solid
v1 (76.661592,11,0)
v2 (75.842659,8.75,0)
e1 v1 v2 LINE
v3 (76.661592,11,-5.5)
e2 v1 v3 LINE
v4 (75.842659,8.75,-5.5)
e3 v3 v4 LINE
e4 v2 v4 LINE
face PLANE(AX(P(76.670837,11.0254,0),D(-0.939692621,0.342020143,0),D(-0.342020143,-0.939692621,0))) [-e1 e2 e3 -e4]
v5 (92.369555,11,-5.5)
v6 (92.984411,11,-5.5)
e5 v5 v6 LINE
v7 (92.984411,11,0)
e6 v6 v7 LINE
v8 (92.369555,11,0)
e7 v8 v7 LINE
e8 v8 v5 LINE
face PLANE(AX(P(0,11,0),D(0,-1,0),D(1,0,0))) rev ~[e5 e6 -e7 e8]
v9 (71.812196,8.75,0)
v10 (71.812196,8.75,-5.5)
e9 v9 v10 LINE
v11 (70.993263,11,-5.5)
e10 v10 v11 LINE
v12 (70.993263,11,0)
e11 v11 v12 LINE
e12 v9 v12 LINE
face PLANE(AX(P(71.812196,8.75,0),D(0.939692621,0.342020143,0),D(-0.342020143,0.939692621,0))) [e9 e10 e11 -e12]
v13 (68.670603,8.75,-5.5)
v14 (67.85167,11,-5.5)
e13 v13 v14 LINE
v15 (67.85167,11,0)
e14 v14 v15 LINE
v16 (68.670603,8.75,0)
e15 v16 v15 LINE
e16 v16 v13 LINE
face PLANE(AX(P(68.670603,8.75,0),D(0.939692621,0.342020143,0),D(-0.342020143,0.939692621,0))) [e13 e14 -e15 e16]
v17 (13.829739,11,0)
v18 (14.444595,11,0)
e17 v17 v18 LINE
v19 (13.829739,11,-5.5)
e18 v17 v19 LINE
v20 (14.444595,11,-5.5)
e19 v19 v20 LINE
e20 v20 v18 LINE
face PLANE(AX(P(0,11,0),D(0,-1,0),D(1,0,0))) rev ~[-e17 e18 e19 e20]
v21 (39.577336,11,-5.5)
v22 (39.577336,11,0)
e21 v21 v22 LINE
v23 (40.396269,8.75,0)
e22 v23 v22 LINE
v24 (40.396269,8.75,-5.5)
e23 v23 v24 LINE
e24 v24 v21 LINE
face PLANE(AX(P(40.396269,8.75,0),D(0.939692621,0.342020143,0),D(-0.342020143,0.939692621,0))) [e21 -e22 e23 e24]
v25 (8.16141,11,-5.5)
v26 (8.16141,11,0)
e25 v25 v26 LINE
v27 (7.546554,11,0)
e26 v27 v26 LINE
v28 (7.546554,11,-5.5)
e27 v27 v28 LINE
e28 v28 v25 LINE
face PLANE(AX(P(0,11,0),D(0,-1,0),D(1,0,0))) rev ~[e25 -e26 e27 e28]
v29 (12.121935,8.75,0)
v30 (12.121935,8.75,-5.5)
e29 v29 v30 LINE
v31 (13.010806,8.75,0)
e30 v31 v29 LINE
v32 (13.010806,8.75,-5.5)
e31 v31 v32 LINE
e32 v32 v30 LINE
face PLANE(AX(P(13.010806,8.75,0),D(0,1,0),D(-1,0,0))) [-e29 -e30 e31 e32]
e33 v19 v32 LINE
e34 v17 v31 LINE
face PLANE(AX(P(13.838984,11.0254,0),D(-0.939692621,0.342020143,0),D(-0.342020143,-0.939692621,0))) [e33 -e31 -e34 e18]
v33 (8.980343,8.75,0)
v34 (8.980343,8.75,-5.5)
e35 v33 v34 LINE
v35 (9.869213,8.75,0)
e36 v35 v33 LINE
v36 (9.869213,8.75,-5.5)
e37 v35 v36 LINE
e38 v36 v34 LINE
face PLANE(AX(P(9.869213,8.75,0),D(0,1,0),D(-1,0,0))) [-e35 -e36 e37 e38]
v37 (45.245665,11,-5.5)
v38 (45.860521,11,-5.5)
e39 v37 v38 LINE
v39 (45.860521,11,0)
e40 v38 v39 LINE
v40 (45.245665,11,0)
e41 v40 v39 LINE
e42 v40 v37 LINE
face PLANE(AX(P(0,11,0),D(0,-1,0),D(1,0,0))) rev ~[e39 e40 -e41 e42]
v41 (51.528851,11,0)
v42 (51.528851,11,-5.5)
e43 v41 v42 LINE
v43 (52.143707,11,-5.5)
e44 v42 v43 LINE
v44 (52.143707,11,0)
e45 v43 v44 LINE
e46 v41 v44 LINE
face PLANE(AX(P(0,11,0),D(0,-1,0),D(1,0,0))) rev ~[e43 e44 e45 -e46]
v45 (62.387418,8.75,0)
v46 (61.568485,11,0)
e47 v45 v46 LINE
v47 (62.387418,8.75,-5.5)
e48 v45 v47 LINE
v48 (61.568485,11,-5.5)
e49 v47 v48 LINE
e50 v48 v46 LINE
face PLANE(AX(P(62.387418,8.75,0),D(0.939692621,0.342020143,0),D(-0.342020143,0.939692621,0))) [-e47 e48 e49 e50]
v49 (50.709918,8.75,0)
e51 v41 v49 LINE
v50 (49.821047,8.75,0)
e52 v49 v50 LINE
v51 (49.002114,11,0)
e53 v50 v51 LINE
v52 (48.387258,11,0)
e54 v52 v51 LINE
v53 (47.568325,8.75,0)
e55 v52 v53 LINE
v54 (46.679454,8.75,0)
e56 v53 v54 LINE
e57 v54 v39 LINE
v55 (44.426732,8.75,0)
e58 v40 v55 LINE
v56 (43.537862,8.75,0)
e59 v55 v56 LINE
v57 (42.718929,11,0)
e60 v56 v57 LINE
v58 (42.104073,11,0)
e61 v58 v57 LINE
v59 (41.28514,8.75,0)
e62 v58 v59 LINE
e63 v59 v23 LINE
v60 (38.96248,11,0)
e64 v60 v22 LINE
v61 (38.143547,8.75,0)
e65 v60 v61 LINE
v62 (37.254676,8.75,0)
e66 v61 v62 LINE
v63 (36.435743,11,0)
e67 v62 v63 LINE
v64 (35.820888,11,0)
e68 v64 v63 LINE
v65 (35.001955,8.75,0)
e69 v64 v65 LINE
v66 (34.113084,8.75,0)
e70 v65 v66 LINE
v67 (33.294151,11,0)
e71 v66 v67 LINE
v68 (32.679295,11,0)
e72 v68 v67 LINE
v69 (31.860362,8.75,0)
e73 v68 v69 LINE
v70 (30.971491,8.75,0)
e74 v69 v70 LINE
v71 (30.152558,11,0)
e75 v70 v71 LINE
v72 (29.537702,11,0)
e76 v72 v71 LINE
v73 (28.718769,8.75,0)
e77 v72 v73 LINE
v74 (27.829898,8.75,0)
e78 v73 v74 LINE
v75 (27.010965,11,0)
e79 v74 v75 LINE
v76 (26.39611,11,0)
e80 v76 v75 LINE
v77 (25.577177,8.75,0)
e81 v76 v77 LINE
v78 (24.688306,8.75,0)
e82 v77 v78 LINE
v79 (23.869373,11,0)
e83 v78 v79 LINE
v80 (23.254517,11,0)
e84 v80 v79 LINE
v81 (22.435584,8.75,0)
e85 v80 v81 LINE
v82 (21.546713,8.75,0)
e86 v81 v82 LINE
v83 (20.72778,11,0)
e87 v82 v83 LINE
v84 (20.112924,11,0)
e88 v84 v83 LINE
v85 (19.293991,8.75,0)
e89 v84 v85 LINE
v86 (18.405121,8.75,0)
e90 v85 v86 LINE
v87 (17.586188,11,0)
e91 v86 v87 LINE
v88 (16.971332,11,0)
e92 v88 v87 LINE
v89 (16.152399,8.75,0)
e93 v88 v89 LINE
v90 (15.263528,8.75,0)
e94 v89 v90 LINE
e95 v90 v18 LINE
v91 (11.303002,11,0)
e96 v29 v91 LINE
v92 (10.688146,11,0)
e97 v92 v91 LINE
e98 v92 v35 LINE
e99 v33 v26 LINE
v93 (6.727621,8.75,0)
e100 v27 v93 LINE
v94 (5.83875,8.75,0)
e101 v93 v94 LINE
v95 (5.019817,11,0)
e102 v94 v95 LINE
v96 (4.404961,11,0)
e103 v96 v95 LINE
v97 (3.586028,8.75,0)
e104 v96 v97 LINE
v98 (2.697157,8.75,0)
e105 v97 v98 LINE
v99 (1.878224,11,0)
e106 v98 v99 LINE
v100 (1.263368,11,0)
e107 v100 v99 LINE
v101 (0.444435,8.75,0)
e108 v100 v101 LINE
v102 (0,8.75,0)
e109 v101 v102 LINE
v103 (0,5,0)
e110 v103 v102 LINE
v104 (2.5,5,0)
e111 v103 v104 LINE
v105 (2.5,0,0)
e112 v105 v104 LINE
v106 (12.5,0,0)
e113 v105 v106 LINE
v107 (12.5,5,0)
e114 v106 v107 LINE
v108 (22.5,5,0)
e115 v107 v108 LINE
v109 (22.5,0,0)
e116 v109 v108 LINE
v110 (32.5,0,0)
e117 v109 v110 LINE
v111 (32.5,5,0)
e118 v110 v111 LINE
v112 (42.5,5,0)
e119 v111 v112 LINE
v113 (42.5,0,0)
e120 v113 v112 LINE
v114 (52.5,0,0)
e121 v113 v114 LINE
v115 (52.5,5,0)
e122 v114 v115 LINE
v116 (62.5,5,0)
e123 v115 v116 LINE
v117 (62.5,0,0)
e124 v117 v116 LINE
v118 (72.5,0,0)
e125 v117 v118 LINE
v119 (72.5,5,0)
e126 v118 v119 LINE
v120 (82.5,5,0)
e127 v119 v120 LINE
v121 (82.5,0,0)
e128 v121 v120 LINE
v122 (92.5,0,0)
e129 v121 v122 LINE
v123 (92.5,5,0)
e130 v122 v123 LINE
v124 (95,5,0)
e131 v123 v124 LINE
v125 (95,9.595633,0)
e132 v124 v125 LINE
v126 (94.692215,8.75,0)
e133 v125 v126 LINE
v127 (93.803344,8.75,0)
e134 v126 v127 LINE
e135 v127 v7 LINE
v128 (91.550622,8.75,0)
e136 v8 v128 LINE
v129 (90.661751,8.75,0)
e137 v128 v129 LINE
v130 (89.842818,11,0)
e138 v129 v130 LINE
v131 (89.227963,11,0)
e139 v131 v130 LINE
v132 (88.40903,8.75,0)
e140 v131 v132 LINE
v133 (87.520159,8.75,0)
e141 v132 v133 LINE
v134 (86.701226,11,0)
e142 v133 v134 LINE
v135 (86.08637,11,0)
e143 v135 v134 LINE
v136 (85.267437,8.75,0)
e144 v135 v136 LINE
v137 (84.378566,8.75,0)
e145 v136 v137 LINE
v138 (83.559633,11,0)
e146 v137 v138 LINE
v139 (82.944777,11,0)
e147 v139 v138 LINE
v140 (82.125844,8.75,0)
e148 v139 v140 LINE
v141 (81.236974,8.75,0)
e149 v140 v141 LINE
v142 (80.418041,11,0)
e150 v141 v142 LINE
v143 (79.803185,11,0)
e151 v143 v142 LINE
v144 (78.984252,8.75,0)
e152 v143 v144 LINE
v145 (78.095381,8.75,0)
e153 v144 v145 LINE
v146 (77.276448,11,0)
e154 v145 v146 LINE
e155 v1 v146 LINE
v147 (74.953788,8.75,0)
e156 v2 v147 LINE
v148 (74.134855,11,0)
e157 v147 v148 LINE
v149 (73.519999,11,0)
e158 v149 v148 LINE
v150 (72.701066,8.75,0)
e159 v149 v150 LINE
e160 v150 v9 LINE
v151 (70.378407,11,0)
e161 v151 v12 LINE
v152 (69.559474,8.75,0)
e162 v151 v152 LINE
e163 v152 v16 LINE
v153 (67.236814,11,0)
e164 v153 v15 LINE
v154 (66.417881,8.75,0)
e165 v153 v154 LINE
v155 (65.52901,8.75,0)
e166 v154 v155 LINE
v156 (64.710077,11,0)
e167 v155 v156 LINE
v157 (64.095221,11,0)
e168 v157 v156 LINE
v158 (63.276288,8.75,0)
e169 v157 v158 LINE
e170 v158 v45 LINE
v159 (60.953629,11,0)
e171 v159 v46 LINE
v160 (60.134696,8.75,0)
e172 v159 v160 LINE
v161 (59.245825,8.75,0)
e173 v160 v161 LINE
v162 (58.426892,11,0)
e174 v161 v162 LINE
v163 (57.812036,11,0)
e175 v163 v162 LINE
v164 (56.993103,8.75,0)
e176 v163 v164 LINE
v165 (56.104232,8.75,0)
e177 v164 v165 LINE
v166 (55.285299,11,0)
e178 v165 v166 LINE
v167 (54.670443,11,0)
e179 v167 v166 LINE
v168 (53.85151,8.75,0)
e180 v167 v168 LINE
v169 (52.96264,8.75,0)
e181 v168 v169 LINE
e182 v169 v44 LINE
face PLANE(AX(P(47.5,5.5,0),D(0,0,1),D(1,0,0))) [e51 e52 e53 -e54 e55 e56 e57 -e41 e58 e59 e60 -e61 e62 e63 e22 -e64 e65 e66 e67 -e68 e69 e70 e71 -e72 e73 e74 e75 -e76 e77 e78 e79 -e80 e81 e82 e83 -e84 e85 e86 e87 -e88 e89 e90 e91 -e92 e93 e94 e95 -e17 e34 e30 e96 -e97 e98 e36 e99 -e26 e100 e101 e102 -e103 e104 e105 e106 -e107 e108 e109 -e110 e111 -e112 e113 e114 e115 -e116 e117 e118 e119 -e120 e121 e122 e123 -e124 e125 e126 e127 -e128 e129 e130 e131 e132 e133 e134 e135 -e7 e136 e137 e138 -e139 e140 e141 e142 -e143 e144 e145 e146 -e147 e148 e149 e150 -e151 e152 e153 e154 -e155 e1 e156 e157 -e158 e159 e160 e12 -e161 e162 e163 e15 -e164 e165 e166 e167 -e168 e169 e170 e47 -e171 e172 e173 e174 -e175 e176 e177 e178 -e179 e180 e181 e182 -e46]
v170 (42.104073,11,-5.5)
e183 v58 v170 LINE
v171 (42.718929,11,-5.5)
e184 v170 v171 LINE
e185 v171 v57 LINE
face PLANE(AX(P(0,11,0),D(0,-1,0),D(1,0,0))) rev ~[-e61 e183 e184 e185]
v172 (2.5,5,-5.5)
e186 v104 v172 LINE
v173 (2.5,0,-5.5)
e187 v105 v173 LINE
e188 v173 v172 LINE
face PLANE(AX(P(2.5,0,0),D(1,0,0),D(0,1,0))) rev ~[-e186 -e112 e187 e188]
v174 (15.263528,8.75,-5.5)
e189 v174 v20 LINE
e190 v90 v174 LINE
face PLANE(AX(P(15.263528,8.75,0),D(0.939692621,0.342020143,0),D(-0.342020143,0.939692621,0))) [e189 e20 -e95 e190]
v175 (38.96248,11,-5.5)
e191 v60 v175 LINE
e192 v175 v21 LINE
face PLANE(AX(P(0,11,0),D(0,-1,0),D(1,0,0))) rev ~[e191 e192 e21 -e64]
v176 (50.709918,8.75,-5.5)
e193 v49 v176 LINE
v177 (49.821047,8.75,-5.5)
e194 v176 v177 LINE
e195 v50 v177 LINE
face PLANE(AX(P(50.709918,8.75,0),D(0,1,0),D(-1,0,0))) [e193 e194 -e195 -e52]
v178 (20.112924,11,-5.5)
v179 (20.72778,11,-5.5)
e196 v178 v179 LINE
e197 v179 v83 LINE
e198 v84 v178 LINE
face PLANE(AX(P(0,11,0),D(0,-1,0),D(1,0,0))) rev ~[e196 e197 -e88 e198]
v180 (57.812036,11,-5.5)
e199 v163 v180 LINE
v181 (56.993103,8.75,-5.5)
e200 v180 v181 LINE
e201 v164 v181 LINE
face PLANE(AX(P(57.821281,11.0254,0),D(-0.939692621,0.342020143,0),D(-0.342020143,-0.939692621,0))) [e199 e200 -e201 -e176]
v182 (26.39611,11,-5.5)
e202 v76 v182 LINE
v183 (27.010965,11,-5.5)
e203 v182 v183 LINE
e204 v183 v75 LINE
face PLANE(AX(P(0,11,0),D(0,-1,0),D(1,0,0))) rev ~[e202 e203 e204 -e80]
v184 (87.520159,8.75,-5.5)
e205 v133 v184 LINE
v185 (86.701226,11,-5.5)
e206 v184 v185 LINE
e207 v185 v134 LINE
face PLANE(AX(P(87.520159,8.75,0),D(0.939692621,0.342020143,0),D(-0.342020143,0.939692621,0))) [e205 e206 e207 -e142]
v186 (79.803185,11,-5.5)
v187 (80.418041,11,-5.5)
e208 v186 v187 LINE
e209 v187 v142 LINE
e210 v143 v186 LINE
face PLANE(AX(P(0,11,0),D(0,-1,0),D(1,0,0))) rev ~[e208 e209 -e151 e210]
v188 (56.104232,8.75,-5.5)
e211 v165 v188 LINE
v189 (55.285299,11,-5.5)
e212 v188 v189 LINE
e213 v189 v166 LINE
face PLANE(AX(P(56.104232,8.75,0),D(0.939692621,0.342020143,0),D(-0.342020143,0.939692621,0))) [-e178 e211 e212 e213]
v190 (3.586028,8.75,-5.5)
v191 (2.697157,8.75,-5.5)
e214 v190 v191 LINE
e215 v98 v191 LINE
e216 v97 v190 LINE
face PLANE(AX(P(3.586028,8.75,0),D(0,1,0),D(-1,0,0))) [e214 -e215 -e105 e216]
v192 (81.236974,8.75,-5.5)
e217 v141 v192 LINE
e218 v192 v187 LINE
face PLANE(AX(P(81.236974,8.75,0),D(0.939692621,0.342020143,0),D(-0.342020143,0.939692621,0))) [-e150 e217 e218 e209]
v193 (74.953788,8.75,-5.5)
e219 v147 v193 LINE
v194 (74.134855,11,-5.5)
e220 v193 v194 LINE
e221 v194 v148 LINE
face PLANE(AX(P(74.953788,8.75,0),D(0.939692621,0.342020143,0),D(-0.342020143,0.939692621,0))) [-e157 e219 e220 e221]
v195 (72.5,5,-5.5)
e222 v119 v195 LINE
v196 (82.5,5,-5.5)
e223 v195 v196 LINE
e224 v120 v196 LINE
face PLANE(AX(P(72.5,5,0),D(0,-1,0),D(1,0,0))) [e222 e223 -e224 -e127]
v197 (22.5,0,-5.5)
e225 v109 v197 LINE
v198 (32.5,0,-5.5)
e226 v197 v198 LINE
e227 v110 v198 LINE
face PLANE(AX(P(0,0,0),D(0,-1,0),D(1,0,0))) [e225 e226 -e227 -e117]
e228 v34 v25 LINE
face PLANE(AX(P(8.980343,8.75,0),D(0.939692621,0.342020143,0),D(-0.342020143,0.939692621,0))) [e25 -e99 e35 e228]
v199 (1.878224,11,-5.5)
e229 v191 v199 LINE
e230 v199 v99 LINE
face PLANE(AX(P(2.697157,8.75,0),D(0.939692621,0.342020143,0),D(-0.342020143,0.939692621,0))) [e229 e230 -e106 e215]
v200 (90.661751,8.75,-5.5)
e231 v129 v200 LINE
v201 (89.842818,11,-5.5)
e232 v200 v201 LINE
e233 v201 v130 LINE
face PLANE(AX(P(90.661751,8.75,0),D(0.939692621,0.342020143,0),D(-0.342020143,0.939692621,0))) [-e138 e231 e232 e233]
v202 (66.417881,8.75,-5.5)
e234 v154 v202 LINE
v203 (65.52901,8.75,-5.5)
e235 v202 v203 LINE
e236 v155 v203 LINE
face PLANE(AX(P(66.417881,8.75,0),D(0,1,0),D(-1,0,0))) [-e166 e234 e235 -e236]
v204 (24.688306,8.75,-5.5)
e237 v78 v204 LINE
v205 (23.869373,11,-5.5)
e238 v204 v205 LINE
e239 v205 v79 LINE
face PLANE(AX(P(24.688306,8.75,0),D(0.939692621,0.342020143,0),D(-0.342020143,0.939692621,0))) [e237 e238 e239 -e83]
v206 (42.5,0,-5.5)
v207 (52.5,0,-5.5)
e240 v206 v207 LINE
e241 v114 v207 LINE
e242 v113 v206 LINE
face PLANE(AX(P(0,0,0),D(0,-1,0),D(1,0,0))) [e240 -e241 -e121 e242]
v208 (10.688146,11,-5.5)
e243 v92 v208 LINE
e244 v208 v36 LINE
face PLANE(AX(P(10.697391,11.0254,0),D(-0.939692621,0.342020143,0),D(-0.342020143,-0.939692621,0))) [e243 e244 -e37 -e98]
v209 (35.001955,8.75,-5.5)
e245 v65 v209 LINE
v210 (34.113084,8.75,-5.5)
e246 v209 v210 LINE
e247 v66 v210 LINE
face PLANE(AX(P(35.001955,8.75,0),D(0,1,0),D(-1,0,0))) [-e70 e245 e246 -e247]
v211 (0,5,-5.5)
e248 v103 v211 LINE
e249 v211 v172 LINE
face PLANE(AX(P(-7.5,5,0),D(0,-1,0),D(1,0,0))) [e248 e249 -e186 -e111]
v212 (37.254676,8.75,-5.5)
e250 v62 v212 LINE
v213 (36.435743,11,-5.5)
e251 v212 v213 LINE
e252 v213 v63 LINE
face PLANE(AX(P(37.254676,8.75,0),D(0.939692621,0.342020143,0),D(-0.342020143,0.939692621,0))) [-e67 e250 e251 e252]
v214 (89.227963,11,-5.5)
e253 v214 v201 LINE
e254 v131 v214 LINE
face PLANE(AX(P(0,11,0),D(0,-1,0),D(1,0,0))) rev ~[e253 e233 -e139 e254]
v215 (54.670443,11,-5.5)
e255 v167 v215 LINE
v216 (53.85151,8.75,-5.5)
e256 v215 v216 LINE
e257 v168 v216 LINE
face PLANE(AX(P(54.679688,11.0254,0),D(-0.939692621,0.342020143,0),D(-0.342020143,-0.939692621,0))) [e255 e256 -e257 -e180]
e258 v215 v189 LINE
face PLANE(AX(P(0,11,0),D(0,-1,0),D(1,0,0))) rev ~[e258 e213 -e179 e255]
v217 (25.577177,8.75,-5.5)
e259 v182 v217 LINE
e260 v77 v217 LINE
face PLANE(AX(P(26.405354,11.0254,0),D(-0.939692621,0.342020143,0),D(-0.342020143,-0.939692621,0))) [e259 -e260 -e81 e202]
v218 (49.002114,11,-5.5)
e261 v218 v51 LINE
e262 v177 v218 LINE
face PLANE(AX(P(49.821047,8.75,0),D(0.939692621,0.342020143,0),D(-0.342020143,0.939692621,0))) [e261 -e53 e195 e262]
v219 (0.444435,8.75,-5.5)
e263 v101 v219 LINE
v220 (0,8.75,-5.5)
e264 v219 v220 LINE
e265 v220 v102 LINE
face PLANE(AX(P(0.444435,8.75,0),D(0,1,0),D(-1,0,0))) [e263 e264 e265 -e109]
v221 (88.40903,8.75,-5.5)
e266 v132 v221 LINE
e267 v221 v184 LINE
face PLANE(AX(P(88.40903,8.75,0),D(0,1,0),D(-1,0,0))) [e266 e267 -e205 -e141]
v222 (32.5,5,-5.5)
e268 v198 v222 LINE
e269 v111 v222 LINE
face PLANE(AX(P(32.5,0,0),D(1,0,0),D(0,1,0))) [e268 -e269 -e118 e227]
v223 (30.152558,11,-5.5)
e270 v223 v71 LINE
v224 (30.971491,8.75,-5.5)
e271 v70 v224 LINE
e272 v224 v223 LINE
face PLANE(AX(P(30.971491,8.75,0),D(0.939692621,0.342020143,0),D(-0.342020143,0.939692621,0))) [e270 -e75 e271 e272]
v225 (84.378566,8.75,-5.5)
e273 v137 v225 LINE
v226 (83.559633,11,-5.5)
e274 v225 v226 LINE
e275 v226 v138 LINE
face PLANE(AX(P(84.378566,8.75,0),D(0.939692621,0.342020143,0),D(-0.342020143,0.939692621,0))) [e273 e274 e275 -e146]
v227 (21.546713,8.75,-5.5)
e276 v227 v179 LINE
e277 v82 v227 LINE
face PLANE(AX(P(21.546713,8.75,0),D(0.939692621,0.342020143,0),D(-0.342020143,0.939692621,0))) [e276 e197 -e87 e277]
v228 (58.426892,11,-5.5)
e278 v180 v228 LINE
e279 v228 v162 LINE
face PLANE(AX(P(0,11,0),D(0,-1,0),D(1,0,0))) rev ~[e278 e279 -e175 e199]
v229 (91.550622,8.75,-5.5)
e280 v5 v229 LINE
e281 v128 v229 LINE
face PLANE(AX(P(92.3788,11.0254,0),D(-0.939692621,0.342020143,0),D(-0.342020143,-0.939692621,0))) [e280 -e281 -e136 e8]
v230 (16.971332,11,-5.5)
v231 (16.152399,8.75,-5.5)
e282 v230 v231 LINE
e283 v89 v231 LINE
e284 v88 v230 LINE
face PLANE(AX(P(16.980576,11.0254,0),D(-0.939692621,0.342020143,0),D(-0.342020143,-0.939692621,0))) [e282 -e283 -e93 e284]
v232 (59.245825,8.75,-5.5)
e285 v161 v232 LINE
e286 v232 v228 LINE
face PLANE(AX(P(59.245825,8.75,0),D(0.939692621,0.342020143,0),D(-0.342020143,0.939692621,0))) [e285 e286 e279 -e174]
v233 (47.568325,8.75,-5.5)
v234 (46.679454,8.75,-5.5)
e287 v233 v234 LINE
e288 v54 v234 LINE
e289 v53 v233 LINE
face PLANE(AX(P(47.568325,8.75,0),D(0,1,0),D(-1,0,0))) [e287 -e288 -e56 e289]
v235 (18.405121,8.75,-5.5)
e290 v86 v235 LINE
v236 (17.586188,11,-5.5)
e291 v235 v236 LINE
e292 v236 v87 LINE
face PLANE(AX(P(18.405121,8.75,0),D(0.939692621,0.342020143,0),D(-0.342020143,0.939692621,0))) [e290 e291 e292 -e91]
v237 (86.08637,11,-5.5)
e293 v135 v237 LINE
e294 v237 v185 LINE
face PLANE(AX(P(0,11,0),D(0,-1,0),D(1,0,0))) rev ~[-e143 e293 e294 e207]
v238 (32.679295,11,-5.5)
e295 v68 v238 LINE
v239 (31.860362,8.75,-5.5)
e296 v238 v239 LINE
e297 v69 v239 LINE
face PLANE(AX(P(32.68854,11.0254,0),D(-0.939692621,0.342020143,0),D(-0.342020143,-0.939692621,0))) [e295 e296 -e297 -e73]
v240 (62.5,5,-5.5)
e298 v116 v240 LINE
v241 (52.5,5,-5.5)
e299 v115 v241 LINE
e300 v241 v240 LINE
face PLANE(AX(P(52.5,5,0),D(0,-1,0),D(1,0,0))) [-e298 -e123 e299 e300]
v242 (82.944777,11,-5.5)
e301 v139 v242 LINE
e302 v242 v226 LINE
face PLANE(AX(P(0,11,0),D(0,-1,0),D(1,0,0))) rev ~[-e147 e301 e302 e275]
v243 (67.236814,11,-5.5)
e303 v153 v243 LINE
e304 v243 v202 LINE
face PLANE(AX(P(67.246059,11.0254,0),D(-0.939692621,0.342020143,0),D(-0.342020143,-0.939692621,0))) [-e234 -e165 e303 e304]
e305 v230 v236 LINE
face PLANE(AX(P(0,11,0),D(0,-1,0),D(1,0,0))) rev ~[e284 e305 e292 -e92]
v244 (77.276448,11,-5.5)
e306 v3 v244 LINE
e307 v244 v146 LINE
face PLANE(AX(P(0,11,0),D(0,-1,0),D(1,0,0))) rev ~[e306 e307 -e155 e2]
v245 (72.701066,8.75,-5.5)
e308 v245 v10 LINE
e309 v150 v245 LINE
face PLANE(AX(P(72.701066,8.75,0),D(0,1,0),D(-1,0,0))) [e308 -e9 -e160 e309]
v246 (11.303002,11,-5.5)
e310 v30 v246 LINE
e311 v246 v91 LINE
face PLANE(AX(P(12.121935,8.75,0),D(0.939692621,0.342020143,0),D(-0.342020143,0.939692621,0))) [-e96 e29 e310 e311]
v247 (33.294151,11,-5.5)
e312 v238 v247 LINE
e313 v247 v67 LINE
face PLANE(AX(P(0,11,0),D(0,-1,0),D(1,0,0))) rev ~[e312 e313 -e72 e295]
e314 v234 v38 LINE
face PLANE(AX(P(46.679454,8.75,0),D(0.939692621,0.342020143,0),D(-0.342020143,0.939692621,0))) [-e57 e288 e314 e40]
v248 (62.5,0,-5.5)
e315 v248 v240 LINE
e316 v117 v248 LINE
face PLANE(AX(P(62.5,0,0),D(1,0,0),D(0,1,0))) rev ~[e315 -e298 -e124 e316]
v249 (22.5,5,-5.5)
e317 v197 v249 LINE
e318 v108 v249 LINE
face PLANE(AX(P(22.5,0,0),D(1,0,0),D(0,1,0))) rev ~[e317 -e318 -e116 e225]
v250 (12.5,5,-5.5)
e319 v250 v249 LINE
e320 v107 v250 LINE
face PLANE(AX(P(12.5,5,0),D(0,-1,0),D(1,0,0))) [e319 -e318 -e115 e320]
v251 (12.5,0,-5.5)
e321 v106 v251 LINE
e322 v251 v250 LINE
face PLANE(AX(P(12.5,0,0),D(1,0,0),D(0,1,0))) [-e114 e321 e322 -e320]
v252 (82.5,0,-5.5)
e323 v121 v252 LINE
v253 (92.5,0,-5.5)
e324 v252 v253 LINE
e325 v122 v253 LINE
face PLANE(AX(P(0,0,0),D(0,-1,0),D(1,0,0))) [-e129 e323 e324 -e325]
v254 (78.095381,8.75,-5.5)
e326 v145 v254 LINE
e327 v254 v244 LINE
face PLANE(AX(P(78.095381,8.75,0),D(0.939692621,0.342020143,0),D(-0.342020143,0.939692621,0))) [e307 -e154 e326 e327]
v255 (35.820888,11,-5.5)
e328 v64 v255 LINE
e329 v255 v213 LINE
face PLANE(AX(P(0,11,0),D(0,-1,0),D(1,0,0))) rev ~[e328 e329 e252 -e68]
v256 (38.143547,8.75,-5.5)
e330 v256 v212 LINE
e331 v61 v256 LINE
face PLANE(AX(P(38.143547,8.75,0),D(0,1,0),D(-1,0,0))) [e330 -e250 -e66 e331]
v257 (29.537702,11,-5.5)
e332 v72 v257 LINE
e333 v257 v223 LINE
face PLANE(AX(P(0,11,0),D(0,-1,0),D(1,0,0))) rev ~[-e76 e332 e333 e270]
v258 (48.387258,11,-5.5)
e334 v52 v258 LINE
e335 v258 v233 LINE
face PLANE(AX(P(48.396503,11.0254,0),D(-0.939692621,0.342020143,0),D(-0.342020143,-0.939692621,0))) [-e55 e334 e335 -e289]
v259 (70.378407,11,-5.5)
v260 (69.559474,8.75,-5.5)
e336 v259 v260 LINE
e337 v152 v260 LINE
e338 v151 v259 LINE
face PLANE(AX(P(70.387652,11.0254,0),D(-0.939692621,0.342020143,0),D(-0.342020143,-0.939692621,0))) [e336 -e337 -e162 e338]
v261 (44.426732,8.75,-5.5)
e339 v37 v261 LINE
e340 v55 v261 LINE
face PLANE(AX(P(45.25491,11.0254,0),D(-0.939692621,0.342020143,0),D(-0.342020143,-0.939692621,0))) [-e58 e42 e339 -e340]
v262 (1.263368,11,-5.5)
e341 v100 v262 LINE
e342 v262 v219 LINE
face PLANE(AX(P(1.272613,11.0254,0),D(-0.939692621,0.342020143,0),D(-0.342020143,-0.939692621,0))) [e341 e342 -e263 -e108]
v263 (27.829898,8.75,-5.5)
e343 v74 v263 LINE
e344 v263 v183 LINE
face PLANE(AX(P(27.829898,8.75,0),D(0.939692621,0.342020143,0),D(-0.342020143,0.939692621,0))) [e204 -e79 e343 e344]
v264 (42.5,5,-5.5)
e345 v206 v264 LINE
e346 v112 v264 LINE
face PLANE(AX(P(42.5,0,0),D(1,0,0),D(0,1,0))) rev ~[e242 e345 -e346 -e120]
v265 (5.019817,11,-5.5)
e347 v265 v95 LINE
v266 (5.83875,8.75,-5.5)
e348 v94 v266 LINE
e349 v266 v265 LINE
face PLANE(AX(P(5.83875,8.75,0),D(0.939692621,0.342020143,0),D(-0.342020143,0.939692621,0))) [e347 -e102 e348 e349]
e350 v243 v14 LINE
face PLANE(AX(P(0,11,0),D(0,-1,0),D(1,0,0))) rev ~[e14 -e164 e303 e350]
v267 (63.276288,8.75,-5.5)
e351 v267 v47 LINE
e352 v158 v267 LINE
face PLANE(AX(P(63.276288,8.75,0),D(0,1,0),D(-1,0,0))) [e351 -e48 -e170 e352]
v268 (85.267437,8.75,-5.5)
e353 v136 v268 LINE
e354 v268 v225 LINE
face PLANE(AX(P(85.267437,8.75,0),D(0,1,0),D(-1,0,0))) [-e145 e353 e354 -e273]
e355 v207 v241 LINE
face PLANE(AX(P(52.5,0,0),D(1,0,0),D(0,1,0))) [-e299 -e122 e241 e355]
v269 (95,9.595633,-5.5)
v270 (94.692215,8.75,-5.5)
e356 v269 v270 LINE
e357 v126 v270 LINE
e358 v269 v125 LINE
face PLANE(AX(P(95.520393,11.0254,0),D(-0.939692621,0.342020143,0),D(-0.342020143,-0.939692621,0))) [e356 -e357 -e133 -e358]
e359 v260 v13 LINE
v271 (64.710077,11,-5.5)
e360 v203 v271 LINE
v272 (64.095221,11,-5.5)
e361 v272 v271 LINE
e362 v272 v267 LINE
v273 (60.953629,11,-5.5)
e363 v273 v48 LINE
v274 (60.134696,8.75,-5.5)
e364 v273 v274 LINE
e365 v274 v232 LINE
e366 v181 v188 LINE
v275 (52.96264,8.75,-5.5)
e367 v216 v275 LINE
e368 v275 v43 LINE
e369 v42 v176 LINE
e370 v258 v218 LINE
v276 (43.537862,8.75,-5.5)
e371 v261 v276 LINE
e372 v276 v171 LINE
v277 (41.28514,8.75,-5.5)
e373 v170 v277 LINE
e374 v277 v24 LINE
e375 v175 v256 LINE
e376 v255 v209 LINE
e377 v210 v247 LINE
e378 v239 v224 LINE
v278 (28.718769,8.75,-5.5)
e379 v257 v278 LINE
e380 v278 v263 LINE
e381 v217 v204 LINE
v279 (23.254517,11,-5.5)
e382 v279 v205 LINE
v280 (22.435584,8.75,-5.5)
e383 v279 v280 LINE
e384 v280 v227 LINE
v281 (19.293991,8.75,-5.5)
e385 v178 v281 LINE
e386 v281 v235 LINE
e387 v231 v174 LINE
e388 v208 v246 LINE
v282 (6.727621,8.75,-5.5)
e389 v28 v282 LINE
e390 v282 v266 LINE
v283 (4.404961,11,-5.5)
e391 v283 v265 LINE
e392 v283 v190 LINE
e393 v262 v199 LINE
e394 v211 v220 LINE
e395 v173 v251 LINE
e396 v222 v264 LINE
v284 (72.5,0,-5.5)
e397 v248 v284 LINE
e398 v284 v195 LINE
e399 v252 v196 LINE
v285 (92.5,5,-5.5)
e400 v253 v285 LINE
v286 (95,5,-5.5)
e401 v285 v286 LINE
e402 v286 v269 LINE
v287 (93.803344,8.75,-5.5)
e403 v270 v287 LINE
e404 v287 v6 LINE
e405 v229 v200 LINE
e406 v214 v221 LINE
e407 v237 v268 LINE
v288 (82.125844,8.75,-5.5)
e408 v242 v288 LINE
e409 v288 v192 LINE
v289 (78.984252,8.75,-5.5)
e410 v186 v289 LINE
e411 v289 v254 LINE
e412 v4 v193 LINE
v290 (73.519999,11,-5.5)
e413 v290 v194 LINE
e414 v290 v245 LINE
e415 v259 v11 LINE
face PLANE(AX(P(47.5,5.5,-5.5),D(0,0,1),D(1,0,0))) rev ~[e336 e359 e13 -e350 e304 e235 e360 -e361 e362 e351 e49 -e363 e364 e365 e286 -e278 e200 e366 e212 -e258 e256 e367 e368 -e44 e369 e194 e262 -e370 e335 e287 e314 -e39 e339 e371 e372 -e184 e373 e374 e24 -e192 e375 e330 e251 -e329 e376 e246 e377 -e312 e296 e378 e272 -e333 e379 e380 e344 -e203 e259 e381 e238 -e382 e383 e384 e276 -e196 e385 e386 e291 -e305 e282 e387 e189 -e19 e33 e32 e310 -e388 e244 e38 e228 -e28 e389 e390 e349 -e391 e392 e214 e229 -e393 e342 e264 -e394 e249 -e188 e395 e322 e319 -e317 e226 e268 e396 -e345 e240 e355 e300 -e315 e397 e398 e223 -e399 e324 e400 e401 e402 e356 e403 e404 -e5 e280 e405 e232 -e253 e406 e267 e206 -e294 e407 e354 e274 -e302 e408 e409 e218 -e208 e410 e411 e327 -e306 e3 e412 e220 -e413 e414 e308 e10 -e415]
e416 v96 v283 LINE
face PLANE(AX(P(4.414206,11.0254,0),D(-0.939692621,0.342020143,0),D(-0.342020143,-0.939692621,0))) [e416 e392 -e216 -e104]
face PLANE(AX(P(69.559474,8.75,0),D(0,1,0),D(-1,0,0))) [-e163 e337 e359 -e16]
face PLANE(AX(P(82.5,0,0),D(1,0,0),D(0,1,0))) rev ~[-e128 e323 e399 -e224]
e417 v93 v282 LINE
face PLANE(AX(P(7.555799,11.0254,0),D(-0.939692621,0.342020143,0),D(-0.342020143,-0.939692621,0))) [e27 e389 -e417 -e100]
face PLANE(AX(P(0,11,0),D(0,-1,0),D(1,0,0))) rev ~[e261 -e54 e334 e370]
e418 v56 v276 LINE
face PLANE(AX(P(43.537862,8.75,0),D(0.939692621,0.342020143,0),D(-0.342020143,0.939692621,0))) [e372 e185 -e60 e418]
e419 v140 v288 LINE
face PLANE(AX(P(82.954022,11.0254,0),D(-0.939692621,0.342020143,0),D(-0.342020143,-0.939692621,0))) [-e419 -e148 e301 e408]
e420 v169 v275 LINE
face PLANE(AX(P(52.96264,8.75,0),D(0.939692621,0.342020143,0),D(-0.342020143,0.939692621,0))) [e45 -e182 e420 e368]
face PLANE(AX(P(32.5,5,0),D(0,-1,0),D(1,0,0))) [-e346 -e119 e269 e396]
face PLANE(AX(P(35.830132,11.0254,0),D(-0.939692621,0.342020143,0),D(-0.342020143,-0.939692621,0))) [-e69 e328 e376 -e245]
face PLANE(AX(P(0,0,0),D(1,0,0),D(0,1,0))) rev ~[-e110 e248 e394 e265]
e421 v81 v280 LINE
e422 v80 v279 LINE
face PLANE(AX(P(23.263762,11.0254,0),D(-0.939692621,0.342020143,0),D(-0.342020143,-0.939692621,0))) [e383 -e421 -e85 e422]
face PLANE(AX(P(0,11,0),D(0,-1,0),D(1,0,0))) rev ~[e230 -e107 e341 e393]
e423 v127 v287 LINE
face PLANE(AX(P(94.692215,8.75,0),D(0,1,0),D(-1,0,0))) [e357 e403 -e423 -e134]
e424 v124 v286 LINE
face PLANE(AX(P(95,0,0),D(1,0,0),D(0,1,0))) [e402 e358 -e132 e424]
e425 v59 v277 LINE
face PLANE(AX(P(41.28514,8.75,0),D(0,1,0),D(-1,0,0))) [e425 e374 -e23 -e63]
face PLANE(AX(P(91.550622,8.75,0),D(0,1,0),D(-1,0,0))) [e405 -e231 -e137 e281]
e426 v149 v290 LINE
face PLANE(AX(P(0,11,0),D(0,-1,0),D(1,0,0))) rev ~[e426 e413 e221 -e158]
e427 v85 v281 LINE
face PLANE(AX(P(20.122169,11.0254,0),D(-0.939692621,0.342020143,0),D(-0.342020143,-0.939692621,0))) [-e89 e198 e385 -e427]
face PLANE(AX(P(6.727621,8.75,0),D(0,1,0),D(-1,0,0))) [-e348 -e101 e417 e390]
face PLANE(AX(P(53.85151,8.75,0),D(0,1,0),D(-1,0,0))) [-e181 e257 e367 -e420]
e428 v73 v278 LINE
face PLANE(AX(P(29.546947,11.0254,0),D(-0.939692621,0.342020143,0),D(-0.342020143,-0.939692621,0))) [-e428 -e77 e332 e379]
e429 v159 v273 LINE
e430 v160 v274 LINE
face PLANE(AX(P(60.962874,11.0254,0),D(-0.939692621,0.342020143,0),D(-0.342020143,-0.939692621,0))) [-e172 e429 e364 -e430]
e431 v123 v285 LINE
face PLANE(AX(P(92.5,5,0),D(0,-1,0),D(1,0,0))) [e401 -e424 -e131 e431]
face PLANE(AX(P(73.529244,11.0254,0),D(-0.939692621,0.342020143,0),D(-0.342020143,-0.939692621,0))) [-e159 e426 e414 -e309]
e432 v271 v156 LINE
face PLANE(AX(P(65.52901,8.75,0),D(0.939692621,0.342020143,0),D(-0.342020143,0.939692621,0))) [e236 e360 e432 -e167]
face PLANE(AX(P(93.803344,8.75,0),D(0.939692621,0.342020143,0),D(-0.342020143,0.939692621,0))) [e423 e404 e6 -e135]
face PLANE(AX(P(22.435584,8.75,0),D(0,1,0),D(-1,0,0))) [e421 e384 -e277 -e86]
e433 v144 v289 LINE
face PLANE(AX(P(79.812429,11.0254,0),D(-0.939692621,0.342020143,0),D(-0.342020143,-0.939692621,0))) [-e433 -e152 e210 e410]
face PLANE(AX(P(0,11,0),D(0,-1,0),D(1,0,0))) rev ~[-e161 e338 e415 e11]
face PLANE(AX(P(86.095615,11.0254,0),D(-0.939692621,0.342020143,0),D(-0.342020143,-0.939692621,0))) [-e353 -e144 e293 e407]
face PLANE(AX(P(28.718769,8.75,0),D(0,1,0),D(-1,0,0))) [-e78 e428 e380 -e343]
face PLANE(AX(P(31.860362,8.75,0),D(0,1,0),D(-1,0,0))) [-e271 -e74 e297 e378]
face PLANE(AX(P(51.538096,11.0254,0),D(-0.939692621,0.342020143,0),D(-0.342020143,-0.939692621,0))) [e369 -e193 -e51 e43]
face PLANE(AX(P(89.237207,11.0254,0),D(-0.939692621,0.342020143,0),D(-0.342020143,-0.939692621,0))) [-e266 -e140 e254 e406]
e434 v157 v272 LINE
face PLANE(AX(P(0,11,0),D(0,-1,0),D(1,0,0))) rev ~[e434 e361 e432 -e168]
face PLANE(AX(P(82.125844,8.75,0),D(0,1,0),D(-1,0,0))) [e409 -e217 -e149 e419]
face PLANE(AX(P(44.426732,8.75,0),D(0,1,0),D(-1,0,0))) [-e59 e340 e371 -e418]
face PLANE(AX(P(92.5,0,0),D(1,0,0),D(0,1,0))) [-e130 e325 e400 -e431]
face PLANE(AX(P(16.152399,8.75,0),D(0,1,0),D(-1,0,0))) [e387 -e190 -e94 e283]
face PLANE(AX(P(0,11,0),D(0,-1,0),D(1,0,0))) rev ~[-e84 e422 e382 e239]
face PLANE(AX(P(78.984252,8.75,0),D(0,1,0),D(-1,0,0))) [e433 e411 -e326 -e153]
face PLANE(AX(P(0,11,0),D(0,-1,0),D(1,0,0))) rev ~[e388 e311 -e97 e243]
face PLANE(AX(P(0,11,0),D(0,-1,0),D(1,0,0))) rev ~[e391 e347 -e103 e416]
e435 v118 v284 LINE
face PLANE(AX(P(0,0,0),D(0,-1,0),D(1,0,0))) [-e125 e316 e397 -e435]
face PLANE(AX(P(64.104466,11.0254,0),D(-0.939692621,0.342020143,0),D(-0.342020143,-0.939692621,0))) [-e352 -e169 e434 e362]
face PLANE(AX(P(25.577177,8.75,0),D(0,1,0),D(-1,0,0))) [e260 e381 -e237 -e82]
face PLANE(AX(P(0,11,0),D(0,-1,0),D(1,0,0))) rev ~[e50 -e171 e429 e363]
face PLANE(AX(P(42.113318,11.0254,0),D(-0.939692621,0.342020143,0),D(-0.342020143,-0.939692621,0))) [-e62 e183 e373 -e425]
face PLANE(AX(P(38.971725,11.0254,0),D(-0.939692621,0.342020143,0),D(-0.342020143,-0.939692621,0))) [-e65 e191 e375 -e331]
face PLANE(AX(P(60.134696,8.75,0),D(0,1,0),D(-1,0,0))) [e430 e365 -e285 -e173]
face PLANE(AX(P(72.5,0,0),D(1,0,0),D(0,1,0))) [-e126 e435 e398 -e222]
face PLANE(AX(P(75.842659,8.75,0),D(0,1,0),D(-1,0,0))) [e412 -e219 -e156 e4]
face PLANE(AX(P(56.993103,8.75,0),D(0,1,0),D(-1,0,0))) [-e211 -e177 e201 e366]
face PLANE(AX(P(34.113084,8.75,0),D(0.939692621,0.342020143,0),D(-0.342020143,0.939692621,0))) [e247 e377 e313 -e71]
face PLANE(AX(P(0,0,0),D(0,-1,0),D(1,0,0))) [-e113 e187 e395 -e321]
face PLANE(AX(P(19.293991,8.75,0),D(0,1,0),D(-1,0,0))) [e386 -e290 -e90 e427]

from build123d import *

# Parameters (mm, degrees)
BLANKSKE_W          = 95
BLANKSKE_H          = 11
BLANK_DEPTH         = 5.5
TOOTHCUTSIM_DEPTH   = 96.792745028
TEETHCUTS_COUNT     = 31
TEETHCUTS_PITCH     = 3.14159265
SKETCH_1_W          = 10
SKETCH_1_H          = 5
CUT_EXTRUDE_1_DEPTH = 96.792745028


with BuildPart() as part:
    # BlankSke → Blank (new body)
    with BuildSketch(Plane.XY):
        with Locations((47.5, 5.5)):
            Rectangle(BLANKSKE_W, BLANKSKE_H)
    extrude(amount=-BLANK_DEPTH)

    # TooCutSkeSim → ToothCutSim (cut, through all)
    with BuildSketch(Plane.XY):
        Polygon((0.44443537, 8.75), (-0.44443537, 8.75), (-1.272613241, 11.0254), (1.272613241, 11.0254), align=None)
    toothcutsim = extrude(amount=-TOOTHCUTSIM_DEPTH, mode=Mode.SUBTRACT)

    # TeethCuts: ToothCutSim ×31
    with Locations(*[(i * TEETHCUTS_PITCH, 0, 0) for i in range(1, TEETHCUTS_COUNT)]):
        add(toothcutsim, mode=Mode.SUBTRACT)

    # ｽｹｯﾁ1 → ｶｯﾄ - 押し出し1 (cut, through all)
    with BuildSketch(Plane.XY):
        with Locations((-2.5, 2.5)):
            Rectangle(SKETCH_1_W, SKETCH_1_H)
        with Locations((17.5, 2.5)):
            Rectangle(SKETCH_1_W, SKETCH_1_H)
        with Locations((37.5, 2.5)):
            Rectangle(SKETCH_1_W, SKETCH_1_H)
        with Locations((57.5, 2.5)):
            Rectangle(SKETCH_1_W, SKETCH_1_H)
        with Locations((77.5, 2.5)):
            Rectangle(SKETCH_1_W, SKETCH_1_H)
        with Locations((97.5, 2.5)):
            Rectangle(SKETCH_1_W, SKETCH_1_H)
    extrude(amount=-CUT_EXTRUDE_1_DEPTH, mode=Mode.SUBTRACT)


solid = part.part
